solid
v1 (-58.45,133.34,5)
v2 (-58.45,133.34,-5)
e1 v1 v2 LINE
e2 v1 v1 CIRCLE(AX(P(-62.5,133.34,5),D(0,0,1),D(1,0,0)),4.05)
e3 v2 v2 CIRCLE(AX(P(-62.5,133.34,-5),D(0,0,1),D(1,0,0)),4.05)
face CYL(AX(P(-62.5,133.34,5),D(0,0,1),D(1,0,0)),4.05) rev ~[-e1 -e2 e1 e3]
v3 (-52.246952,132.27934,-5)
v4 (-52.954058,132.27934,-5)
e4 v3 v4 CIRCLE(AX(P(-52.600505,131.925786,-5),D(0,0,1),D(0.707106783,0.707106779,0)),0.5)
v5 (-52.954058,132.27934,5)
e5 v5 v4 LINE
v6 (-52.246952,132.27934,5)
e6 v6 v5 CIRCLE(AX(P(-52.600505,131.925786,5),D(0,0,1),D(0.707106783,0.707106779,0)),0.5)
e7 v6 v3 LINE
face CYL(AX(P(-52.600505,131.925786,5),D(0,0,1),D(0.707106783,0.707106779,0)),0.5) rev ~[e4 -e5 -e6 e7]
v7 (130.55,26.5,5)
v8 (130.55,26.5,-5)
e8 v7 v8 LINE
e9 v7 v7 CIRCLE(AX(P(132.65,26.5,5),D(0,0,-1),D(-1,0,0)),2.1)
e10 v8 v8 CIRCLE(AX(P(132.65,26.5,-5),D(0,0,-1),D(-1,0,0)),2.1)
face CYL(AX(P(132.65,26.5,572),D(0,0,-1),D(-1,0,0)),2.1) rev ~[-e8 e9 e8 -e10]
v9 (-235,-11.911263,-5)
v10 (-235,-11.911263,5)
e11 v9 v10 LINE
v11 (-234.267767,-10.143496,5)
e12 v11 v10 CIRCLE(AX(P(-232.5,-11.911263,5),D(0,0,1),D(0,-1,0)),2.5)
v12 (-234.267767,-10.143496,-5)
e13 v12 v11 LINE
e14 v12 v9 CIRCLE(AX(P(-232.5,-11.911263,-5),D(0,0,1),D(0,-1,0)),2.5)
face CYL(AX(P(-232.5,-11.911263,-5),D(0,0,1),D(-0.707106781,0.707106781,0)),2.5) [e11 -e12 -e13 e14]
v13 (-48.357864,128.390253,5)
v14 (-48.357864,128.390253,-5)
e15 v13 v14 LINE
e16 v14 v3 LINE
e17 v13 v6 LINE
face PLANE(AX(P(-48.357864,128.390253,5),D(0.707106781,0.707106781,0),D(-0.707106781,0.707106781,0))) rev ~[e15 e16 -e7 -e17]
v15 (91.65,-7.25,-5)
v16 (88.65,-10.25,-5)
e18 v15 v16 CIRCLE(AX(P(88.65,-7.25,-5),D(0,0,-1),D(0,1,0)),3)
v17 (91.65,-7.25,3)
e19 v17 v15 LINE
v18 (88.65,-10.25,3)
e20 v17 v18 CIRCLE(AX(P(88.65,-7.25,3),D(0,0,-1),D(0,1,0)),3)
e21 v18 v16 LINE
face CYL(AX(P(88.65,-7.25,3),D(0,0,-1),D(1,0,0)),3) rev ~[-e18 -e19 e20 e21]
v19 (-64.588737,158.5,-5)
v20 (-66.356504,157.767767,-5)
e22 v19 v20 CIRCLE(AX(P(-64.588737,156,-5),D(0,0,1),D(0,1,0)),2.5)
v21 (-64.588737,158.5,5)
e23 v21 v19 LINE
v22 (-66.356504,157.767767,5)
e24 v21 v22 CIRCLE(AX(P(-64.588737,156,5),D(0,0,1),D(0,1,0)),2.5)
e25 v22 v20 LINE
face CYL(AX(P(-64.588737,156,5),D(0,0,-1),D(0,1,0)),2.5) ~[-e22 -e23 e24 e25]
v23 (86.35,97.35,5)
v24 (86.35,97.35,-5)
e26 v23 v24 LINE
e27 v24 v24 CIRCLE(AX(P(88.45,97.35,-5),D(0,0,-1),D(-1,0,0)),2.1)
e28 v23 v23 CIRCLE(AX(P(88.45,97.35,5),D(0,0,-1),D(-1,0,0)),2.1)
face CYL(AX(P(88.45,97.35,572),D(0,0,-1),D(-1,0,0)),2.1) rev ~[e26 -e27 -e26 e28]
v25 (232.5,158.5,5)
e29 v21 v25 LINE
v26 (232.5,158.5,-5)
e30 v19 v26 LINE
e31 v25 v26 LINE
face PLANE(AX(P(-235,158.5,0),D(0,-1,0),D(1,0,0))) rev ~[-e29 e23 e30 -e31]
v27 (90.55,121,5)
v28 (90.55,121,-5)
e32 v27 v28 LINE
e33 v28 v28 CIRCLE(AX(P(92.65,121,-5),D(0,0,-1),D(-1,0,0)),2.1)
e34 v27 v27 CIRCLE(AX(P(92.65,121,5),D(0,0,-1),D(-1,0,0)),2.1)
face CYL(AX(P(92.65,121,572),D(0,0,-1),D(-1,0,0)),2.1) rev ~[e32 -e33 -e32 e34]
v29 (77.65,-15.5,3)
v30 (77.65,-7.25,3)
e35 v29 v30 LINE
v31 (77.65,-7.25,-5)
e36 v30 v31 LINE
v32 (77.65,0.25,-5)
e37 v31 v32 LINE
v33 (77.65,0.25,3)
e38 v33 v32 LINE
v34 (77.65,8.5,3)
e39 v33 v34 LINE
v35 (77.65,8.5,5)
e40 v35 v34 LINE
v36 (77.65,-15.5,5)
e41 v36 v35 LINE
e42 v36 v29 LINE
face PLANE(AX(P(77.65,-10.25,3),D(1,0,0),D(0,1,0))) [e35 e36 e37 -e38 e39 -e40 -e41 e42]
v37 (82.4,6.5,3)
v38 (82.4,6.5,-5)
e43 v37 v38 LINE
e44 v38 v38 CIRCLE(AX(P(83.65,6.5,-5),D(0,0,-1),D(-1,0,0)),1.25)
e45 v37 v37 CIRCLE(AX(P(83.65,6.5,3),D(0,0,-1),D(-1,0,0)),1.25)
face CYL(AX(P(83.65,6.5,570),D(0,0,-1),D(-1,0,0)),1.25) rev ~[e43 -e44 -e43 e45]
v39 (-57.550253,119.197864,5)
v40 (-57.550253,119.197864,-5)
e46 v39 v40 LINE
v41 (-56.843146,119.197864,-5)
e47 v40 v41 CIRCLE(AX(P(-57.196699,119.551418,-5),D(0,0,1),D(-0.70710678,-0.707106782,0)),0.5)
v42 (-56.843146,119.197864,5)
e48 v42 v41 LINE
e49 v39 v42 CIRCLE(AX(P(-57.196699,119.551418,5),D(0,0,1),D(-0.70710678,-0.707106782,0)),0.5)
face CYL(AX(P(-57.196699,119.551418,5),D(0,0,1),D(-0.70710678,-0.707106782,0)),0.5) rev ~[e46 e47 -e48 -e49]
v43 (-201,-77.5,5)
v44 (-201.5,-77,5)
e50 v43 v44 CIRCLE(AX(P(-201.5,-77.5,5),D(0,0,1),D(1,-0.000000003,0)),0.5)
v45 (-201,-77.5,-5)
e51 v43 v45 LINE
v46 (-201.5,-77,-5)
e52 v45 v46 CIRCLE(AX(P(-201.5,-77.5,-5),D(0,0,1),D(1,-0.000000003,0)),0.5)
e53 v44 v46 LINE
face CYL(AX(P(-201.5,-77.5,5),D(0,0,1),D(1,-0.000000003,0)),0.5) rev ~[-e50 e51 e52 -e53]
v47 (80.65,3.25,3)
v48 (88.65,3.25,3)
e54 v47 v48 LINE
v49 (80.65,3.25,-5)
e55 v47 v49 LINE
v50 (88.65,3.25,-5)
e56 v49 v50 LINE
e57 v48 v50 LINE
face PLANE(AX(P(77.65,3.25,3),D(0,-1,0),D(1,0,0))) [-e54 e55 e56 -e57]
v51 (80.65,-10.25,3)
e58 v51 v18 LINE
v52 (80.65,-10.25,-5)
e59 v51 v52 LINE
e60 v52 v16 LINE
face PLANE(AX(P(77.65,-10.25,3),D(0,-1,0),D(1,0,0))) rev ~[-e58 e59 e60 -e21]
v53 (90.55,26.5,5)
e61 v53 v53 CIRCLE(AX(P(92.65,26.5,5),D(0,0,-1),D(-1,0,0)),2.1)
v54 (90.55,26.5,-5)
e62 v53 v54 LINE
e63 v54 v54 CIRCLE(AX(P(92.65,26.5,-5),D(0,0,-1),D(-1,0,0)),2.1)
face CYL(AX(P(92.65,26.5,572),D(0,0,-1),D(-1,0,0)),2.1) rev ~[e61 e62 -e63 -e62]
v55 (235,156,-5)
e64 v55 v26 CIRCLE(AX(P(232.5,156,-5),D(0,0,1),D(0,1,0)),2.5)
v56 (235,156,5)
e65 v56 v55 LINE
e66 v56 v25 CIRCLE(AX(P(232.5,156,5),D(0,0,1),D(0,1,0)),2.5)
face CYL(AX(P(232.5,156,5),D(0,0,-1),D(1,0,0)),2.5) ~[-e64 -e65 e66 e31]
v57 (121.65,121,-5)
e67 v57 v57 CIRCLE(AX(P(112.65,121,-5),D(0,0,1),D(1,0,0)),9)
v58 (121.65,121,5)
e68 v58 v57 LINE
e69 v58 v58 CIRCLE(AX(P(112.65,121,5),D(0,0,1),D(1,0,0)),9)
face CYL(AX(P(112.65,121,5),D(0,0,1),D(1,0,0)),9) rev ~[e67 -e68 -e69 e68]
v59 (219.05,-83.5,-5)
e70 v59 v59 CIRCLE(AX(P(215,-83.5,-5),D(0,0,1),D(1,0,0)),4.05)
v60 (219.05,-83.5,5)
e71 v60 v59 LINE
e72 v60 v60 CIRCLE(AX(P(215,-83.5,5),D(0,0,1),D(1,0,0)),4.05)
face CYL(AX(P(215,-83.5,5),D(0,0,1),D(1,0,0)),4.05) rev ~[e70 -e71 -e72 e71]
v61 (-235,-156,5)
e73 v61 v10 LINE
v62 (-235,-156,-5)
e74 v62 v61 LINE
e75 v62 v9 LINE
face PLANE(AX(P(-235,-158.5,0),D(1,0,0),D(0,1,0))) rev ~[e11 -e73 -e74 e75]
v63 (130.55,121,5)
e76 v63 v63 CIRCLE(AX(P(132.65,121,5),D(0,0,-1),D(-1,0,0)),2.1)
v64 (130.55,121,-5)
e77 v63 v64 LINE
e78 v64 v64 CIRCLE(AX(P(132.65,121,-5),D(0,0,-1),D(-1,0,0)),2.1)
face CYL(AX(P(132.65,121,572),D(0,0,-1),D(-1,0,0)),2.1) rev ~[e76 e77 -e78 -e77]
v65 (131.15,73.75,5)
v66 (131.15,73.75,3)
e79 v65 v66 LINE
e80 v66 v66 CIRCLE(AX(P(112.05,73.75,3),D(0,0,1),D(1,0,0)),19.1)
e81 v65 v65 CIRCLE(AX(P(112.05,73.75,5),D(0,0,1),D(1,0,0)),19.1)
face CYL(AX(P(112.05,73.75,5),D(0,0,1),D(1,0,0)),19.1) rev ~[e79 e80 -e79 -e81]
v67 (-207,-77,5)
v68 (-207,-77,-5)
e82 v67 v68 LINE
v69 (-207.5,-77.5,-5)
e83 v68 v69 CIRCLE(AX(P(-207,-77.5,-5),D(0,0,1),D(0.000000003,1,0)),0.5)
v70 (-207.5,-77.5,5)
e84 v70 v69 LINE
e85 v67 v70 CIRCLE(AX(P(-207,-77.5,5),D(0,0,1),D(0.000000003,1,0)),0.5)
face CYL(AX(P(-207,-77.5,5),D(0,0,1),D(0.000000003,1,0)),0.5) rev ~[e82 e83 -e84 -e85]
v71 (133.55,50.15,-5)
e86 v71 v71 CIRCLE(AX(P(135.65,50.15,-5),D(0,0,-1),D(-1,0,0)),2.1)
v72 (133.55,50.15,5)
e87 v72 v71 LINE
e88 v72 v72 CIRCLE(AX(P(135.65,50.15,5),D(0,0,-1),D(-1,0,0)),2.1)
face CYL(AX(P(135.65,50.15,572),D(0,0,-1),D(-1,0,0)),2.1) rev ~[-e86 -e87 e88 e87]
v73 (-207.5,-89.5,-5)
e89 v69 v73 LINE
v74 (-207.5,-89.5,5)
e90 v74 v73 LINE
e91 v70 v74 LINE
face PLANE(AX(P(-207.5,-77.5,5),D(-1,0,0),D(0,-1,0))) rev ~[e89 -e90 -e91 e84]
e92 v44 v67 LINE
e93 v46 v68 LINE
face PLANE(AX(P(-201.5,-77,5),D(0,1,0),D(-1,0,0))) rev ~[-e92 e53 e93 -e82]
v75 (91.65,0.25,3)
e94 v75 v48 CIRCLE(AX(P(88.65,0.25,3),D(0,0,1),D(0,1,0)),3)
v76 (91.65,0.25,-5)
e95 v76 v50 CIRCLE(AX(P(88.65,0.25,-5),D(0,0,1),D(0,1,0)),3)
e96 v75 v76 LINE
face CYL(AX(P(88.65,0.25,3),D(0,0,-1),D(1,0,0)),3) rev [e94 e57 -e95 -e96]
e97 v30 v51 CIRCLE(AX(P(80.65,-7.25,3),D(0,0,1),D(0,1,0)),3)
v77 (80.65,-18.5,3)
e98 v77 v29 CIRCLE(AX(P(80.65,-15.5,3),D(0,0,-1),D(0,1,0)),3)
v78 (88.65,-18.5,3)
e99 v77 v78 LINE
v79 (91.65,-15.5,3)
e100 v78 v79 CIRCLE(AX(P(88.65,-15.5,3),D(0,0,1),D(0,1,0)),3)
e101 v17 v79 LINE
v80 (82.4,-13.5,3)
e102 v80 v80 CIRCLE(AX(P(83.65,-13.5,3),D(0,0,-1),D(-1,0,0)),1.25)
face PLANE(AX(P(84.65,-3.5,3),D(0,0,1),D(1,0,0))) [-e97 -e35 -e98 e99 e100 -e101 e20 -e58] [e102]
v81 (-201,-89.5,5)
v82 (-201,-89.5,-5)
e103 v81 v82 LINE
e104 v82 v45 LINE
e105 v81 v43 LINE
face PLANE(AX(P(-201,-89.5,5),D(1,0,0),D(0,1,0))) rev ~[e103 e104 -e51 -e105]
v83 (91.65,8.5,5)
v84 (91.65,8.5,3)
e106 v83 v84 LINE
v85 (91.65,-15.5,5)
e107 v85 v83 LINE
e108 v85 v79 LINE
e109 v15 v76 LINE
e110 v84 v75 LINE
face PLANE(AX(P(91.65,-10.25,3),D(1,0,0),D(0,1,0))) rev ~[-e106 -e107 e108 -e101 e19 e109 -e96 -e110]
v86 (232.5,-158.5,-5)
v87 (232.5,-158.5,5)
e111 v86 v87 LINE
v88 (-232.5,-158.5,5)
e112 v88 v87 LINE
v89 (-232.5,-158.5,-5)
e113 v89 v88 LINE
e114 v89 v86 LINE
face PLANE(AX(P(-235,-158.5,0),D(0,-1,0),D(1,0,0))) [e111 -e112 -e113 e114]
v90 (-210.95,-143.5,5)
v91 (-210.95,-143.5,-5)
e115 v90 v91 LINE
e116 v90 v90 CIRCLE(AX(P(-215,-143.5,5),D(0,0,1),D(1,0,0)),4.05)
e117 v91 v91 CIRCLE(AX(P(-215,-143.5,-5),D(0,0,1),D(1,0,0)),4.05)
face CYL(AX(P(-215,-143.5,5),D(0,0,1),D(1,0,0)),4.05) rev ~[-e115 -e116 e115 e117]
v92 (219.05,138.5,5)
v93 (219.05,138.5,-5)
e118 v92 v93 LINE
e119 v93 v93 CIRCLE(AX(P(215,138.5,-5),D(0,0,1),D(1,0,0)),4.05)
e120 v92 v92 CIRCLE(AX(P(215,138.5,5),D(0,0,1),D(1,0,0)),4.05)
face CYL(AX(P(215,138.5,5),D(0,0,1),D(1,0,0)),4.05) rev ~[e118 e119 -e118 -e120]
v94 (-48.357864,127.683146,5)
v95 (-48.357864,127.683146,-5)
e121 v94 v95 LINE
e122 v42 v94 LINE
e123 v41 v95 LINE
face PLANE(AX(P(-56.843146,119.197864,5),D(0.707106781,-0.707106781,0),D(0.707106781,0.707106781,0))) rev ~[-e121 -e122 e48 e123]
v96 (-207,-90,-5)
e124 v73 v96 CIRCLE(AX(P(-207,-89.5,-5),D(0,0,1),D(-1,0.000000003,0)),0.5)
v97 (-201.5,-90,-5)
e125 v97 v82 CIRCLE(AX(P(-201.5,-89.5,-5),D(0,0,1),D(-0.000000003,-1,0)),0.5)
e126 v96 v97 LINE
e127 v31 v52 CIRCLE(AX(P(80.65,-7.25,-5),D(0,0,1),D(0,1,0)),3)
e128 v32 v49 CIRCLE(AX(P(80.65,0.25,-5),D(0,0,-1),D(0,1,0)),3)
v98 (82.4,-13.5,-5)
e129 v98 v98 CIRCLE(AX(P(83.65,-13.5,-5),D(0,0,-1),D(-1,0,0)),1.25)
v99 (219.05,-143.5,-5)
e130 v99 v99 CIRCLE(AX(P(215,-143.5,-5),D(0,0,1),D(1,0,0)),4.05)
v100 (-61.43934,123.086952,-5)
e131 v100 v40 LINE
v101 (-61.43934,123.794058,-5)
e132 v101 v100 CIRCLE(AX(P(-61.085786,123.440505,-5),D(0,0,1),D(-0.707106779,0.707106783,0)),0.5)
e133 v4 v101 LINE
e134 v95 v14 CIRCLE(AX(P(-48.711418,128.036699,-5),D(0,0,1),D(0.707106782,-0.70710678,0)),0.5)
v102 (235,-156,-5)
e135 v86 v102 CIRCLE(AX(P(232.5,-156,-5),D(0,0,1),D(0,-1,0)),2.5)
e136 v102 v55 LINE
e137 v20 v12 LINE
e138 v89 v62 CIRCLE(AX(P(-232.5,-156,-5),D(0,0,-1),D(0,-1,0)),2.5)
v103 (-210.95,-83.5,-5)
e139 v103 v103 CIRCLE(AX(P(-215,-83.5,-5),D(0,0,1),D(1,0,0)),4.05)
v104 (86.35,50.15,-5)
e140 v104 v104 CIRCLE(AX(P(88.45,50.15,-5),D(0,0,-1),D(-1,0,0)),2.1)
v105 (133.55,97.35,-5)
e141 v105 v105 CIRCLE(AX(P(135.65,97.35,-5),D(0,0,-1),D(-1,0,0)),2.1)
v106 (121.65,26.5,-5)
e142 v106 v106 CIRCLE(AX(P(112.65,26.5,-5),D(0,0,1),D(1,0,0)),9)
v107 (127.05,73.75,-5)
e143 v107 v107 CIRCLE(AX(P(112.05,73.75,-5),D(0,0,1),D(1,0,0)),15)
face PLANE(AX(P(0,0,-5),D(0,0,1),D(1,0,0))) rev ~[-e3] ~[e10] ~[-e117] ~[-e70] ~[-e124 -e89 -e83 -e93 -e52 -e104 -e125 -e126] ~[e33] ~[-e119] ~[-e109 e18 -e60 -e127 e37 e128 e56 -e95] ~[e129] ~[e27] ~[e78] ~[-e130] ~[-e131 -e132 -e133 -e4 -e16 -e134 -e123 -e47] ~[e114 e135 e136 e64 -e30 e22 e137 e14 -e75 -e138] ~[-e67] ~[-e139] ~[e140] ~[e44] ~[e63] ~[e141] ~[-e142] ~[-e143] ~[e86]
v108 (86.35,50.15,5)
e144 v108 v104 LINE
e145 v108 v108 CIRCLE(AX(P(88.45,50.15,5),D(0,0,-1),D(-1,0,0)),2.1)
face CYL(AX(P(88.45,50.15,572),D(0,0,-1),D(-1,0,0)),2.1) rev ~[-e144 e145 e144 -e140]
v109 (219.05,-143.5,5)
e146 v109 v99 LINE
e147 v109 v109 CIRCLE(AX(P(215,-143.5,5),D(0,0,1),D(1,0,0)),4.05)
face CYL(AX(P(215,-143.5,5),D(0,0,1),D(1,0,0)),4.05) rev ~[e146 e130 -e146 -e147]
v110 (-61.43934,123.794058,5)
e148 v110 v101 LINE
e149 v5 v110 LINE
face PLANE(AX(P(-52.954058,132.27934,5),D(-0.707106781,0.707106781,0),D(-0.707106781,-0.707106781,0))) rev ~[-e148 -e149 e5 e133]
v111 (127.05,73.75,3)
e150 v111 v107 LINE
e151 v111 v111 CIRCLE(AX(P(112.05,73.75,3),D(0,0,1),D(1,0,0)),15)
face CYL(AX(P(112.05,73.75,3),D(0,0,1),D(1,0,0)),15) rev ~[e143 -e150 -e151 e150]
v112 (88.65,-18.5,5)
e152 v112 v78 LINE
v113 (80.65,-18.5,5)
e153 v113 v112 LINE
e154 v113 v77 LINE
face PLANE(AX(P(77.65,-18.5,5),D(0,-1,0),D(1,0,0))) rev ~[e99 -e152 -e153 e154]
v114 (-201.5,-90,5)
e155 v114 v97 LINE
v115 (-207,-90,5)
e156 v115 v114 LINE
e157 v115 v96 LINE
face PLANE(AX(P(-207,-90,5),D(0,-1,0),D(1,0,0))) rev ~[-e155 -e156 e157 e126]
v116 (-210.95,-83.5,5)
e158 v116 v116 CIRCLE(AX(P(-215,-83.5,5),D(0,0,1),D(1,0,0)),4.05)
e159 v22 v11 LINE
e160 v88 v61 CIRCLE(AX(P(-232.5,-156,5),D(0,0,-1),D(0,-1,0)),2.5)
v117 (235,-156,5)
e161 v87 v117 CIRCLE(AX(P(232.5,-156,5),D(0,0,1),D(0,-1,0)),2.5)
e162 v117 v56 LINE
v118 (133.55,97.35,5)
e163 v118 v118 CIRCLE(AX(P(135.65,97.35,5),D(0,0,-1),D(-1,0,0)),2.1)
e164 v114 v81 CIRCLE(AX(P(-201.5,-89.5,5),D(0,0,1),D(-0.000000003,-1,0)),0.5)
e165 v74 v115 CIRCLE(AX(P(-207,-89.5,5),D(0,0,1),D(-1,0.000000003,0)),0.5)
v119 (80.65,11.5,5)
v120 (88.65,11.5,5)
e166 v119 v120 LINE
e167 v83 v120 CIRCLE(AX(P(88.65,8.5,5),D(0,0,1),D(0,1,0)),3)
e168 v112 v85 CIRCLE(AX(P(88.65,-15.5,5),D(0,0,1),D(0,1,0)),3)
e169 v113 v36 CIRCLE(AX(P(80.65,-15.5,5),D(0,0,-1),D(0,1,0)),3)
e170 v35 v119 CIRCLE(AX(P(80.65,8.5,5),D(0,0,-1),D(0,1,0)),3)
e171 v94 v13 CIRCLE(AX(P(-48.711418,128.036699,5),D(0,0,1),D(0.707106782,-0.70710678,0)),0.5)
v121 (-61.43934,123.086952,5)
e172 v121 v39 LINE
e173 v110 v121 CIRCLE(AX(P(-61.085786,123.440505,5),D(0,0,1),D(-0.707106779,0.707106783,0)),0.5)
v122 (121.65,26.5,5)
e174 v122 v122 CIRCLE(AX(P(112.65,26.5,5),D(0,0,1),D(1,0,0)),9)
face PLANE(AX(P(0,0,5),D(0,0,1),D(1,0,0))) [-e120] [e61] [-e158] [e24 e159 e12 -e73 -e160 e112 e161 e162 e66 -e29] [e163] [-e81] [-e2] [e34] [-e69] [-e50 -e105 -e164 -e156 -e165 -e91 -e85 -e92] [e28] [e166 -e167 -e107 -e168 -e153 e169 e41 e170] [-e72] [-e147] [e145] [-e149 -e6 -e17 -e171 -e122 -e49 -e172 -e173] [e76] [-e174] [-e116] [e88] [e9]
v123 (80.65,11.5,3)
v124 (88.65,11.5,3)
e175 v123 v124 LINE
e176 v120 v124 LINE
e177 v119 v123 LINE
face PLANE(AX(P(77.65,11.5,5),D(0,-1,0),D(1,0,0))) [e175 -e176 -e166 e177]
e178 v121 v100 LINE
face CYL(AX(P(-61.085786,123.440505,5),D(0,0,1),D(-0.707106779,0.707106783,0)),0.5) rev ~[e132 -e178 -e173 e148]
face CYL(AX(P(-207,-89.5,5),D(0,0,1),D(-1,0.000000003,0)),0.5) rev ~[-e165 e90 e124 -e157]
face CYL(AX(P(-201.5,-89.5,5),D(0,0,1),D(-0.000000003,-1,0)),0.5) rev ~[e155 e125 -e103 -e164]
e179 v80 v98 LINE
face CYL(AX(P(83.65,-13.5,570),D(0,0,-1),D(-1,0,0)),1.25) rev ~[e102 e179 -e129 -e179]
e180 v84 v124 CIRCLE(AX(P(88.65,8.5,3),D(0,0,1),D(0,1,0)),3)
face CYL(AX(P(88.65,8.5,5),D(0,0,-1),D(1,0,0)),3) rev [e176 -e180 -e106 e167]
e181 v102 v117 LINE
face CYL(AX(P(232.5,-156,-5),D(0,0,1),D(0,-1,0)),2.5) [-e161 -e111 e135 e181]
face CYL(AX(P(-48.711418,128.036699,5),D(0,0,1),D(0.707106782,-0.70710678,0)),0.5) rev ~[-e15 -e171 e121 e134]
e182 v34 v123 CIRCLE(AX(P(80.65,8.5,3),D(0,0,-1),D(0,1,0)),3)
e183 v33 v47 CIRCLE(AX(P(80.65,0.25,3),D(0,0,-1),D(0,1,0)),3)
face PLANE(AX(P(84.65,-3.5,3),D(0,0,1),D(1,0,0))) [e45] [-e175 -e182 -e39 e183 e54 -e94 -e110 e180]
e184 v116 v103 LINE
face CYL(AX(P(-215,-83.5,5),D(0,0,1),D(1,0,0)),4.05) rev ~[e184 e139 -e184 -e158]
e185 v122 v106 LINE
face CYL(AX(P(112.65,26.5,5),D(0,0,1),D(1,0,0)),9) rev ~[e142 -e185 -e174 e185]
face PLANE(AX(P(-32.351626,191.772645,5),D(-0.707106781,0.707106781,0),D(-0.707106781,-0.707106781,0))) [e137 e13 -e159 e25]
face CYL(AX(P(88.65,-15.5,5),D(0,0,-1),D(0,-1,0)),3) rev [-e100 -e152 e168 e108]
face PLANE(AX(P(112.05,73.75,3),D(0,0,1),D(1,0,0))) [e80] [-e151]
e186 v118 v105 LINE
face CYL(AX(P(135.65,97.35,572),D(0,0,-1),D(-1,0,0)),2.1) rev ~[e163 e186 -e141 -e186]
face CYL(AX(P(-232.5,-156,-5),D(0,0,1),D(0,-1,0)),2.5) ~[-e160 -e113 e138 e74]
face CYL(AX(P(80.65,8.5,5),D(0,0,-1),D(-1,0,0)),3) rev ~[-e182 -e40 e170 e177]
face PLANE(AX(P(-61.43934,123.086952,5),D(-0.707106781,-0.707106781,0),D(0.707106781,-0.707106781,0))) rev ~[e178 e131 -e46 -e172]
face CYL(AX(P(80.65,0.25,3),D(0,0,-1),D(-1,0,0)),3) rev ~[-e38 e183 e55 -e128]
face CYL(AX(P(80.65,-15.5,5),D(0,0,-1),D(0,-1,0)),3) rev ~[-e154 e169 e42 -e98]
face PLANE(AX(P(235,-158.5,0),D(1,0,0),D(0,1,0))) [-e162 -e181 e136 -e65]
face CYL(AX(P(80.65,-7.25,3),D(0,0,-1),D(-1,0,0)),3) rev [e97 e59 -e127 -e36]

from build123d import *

# Parameters (mm, degrees)
SKETCH2_W             = 470
SKETCH2_H             = 317
BOSS_EXTRUDE1_DEPTH   = 5
SKETCH3_R             = 4.05
CUT_EXTRUDE1_DEPTH    = 10
SKETCH4_R             = 9
CUT_EXTRUDE2_DEPTH    = 11
M5X0_8_TAPPED_HOLE1_D = 4.2
SKETCH7_R             = 19.1
CUT_EXTRUDE5_DEPTH    = 2
M5X0_8_TAPPED_HOLE2_D = 4.2
SKETCH19_R            = 15
CUT_EXTRUDE10_DEPTH   = 9
SKETCH20_W            = 14
SKETCH20_H            = 30
CUT_EXTRUDE11_DEPTH   = 2
M3X0_5_TAPPED_HOLE2_D = 2.5
SKETCH23_W            = 14
SKETCH23_H            = 13.5
CUT_EXTRUDE13_DEPTH   = 9
CUT_EXTRUDE14_DEPTH   = 11
FILLET1_R             = 3
FILLET2_R             = 2.5
SKETCH27_R            = 4.05
CUT_EXTRUDE15_DEPTH   = 11
CUT_EXTRUDE16_DEPTH   = 11
CUT_EXTRUDE17_DEPTH   = 11


with BuildPart() as part:
    # Sketch2 → Boss-Extrude1 (new body, symmetric)
    with BuildSketch(Plane.XY):
        Rectangle(SKETCH2_W, SKETCH2_H)
    extrude(amount=BOSS_EXTRUDE1_DEPTH, both=True)

    # Sketch3 → Cut-Extrude1 (cut)
    with BuildSketch(Plane.XY.offset(5)):
        with Locations((-215, -83.5)):
            Circle(SKETCH3_R)
        with Locations((-215, -143.5)):
            Circle(SKETCH3_R)
        with Locations((215, -143.5)):
            Circle(SKETCH3_R)
        with Locations((-62.5, 133.34)):
            Circle(SKETCH3_R)
        with Locations((215, 138.5)):
            Circle(SKETCH3_R)
    extrude(amount=-CUT_EXTRUDE1_DEPTH, mode=Mode.SUBTRACT)

    # Sketch4 → Cut-Extrude2 (cut, through all)
    with BuildSketch(Plane.XY.offset(5)):
        with Locations((112.65, 121)):
            Circle(SKETCH4_R)
        with Locations((112.65, 26.5)):
            Circle(SKETCH4_R)
    extrude(amount=-CUT_EXTRUDE2_DEPTH, mode=Mode.SUBTRACT)

    # M5x0.8 Tapped Hole1 (through all)
    with Locations(Plane.XY.offset(5)):
        with Locations((132.65, 121), (92.65, 121), (92.65, 26.5), (132.65, 26.5)):
            Hole(M5X0_8_TAPPED_HOLE1_D / 2)

    # Sketch7 → Cut-Extrude5 (cut)
    with BuildSketch(Plane.XY.offset(5)):
        with Locations((112.05, 73.75)):
            Circle(SKETCH7_R)
    extrude(amount=-CUT_EXTRUDE5_DEPTH, mode=Mode.SUBTRACT)

    # M5x0.8 Tapped Hole2 (through all)
    with Locations(Plane.XY.offset(5)):
        with Locations((88.45, 97.35), (135.65, 97.35), (135.65, 50.15), (88.45, 50.15)):
            Hole(M5X0_8_TAPPED_HOLE2_D / 2)

    # Sketch19 → Cut-Extrude10 (cut, through all)
    with BuildSketch(Plane.XY.offset(3)):
        with Locations((112.05, 73.75)):
            Circle(SKETCH19_R)
    extrude(amount=-CUT_EXTRUDE10_DEPTH, mode=Mode.SUBTRACT)

    # Sketch20 → Cut-Extrude11 (cut)
    with BuildSketch(Plane.XY.offset(5)):
        with Locations((84.65, -3.5)):
            Rectangle(SKETCH20_W, SKETCH20_H)
    extrude(amount=-CUT_EXTRUDE11_DEPTH, mode=Mode.SUBTRACT)

    # M3x0.5 Tapped Hole2 (through all)
    with Locations(Plane.XY.offset(3)):
        with Locations((83.65, 6.5), (83.65, -13.5)):
            Hole(M3X0_5_TAPPED_HOLE2_D / 2)

    # Sketch23 → Cut-Extrude13 (cut, through all)
    with BuildSketch(Plane.XY.offset(3)):
        with Locations((84.65, -3.5)):
            Rectangle(SKETCH23_W, SKETCH23_H)
    extrude(amount=-CUT_EXTRUDE13_DEPTH, mode=Mode.SUBTRACT)

    # Sketch26 → Cut-Extrude14 (cut, through all)
    with BuildSketch(Plane.XY.offset(5)):
        Polygon((-32.351626406, 191.772644842), (-286.046542749, -61.922271502), (-286.046542749, 282.491923936), align=None)
    extrude(amount=-CUT_EXTRUDE14_DEPTH, mode=Mode.SUBTRACT)

    # Fillet1
    fillet1_edges = [part.edges().sort_by_distance(p)[0] for p in [
        (77.65, 11.5, 4),
        (91.65, 3.25, -1),
        (91.65, -10.25, -1),
        (77.65, -10.25, -1),
        (77.65, 3.25, -1),
        (91.65, 11.5, 4),
        (91.65, -18.5, 4),
        (77.65, -18.5, 4),
    ]]
    fillet(fillet1_edges, radius=FILLET1_R)

    # Fillet2
    fillet2_edges = [part.edges().sort_by_distance(p)[0] for p in [
        (-65.624271247, 158.5, 0),
        (-235, -10.875728753, 0),
        (235, -158.5, 0),
        (-235, -158.5, 0),
        (235, 158.5, 0),
    ]]
    fillet(fillet2_edges, radius=FILLET2_R)

    # Sketch27 → Cut-Extrude15 (cut, through all)
    with BuildSketch(Plane.XY.offset(5)):
        with Locations((215, -83.5)):
            Circle(SKETCH27_R)
    extrude(amount=-CUT_EXTRUDE15_DEPTH, mode=Mode.SUBTRACT)

    # Sketch28 → Cut-Extrude16 (cut, through all)
    with BuildSketch(Plane.XY.offset(5)):
        with BuildLine():
            Line((-61.439339828, 123.086951673), (-57.550252532, 119.197864376))
            ThreePointArc((-57.550252532, 119.197864376), (-57.196699141, 119.051417767), (-56.843145751, 119.197864376))
            Line((-56.843145751, 119.197864376), (-48.357864376, 127.683145751))
            ThreePointArc((-48.357864376, 127.683145751), (-48.211417767, 128.036699141), (-48.357864376, 128.390252532))
            Line((-48.357864376, 128.390252532), (-52.246951673, 132.279339828))
            ThreePointArc((-52.246951673, 132.279339828), (-52.600505063, 132.425786438), (-52.954058454, 132.279339828))
            Line((-52.954058454, 132.279339828), (-61.439339828, 123.794058454))
            ThreePointArc((-61.439339828, 123.794058454), (-61.585786438, 123.440505063), (-61.439339828, 123.086951673))
        make_face()
    extrude(amount=-CUT_EXTRUDE16_DEPTH, mode=Mode.SUBTRACT)

    # Sketch29 → Cut-Extrude17 (cut, through all)
    with BuildSketch(Plane.XY.offset(5)):
        with BuildLine():
            Line((-207, -90), (-201.5, -90))
            ThreePointArc((-201.5, -90), (-201.146446609, -89.853553391), (-201, -89.5))
            Line((-201, -89.5), (-201, -77.5))
            ThreePointArc((-201, -77.5), (-201.146446609, -77.146446609), (-201.5, -77))
            Line((-201.5, -77), (-207, -77))
            ThreePointArc((-207, -77), (-207.353553391, -77.146446609), (-207.5, -77.5))
            Line((-207.5, -77.5), (-207.5, -89.5))
            ThreePointArc((-207.5, -89.5), (-207.353553391, -89.853553391), (-207, -90))
        make_face()
    extrude(amount=-CUT_EXTRUDE17_DEPTH, mode=Mode.SUBTRACT)


solid = part.part
